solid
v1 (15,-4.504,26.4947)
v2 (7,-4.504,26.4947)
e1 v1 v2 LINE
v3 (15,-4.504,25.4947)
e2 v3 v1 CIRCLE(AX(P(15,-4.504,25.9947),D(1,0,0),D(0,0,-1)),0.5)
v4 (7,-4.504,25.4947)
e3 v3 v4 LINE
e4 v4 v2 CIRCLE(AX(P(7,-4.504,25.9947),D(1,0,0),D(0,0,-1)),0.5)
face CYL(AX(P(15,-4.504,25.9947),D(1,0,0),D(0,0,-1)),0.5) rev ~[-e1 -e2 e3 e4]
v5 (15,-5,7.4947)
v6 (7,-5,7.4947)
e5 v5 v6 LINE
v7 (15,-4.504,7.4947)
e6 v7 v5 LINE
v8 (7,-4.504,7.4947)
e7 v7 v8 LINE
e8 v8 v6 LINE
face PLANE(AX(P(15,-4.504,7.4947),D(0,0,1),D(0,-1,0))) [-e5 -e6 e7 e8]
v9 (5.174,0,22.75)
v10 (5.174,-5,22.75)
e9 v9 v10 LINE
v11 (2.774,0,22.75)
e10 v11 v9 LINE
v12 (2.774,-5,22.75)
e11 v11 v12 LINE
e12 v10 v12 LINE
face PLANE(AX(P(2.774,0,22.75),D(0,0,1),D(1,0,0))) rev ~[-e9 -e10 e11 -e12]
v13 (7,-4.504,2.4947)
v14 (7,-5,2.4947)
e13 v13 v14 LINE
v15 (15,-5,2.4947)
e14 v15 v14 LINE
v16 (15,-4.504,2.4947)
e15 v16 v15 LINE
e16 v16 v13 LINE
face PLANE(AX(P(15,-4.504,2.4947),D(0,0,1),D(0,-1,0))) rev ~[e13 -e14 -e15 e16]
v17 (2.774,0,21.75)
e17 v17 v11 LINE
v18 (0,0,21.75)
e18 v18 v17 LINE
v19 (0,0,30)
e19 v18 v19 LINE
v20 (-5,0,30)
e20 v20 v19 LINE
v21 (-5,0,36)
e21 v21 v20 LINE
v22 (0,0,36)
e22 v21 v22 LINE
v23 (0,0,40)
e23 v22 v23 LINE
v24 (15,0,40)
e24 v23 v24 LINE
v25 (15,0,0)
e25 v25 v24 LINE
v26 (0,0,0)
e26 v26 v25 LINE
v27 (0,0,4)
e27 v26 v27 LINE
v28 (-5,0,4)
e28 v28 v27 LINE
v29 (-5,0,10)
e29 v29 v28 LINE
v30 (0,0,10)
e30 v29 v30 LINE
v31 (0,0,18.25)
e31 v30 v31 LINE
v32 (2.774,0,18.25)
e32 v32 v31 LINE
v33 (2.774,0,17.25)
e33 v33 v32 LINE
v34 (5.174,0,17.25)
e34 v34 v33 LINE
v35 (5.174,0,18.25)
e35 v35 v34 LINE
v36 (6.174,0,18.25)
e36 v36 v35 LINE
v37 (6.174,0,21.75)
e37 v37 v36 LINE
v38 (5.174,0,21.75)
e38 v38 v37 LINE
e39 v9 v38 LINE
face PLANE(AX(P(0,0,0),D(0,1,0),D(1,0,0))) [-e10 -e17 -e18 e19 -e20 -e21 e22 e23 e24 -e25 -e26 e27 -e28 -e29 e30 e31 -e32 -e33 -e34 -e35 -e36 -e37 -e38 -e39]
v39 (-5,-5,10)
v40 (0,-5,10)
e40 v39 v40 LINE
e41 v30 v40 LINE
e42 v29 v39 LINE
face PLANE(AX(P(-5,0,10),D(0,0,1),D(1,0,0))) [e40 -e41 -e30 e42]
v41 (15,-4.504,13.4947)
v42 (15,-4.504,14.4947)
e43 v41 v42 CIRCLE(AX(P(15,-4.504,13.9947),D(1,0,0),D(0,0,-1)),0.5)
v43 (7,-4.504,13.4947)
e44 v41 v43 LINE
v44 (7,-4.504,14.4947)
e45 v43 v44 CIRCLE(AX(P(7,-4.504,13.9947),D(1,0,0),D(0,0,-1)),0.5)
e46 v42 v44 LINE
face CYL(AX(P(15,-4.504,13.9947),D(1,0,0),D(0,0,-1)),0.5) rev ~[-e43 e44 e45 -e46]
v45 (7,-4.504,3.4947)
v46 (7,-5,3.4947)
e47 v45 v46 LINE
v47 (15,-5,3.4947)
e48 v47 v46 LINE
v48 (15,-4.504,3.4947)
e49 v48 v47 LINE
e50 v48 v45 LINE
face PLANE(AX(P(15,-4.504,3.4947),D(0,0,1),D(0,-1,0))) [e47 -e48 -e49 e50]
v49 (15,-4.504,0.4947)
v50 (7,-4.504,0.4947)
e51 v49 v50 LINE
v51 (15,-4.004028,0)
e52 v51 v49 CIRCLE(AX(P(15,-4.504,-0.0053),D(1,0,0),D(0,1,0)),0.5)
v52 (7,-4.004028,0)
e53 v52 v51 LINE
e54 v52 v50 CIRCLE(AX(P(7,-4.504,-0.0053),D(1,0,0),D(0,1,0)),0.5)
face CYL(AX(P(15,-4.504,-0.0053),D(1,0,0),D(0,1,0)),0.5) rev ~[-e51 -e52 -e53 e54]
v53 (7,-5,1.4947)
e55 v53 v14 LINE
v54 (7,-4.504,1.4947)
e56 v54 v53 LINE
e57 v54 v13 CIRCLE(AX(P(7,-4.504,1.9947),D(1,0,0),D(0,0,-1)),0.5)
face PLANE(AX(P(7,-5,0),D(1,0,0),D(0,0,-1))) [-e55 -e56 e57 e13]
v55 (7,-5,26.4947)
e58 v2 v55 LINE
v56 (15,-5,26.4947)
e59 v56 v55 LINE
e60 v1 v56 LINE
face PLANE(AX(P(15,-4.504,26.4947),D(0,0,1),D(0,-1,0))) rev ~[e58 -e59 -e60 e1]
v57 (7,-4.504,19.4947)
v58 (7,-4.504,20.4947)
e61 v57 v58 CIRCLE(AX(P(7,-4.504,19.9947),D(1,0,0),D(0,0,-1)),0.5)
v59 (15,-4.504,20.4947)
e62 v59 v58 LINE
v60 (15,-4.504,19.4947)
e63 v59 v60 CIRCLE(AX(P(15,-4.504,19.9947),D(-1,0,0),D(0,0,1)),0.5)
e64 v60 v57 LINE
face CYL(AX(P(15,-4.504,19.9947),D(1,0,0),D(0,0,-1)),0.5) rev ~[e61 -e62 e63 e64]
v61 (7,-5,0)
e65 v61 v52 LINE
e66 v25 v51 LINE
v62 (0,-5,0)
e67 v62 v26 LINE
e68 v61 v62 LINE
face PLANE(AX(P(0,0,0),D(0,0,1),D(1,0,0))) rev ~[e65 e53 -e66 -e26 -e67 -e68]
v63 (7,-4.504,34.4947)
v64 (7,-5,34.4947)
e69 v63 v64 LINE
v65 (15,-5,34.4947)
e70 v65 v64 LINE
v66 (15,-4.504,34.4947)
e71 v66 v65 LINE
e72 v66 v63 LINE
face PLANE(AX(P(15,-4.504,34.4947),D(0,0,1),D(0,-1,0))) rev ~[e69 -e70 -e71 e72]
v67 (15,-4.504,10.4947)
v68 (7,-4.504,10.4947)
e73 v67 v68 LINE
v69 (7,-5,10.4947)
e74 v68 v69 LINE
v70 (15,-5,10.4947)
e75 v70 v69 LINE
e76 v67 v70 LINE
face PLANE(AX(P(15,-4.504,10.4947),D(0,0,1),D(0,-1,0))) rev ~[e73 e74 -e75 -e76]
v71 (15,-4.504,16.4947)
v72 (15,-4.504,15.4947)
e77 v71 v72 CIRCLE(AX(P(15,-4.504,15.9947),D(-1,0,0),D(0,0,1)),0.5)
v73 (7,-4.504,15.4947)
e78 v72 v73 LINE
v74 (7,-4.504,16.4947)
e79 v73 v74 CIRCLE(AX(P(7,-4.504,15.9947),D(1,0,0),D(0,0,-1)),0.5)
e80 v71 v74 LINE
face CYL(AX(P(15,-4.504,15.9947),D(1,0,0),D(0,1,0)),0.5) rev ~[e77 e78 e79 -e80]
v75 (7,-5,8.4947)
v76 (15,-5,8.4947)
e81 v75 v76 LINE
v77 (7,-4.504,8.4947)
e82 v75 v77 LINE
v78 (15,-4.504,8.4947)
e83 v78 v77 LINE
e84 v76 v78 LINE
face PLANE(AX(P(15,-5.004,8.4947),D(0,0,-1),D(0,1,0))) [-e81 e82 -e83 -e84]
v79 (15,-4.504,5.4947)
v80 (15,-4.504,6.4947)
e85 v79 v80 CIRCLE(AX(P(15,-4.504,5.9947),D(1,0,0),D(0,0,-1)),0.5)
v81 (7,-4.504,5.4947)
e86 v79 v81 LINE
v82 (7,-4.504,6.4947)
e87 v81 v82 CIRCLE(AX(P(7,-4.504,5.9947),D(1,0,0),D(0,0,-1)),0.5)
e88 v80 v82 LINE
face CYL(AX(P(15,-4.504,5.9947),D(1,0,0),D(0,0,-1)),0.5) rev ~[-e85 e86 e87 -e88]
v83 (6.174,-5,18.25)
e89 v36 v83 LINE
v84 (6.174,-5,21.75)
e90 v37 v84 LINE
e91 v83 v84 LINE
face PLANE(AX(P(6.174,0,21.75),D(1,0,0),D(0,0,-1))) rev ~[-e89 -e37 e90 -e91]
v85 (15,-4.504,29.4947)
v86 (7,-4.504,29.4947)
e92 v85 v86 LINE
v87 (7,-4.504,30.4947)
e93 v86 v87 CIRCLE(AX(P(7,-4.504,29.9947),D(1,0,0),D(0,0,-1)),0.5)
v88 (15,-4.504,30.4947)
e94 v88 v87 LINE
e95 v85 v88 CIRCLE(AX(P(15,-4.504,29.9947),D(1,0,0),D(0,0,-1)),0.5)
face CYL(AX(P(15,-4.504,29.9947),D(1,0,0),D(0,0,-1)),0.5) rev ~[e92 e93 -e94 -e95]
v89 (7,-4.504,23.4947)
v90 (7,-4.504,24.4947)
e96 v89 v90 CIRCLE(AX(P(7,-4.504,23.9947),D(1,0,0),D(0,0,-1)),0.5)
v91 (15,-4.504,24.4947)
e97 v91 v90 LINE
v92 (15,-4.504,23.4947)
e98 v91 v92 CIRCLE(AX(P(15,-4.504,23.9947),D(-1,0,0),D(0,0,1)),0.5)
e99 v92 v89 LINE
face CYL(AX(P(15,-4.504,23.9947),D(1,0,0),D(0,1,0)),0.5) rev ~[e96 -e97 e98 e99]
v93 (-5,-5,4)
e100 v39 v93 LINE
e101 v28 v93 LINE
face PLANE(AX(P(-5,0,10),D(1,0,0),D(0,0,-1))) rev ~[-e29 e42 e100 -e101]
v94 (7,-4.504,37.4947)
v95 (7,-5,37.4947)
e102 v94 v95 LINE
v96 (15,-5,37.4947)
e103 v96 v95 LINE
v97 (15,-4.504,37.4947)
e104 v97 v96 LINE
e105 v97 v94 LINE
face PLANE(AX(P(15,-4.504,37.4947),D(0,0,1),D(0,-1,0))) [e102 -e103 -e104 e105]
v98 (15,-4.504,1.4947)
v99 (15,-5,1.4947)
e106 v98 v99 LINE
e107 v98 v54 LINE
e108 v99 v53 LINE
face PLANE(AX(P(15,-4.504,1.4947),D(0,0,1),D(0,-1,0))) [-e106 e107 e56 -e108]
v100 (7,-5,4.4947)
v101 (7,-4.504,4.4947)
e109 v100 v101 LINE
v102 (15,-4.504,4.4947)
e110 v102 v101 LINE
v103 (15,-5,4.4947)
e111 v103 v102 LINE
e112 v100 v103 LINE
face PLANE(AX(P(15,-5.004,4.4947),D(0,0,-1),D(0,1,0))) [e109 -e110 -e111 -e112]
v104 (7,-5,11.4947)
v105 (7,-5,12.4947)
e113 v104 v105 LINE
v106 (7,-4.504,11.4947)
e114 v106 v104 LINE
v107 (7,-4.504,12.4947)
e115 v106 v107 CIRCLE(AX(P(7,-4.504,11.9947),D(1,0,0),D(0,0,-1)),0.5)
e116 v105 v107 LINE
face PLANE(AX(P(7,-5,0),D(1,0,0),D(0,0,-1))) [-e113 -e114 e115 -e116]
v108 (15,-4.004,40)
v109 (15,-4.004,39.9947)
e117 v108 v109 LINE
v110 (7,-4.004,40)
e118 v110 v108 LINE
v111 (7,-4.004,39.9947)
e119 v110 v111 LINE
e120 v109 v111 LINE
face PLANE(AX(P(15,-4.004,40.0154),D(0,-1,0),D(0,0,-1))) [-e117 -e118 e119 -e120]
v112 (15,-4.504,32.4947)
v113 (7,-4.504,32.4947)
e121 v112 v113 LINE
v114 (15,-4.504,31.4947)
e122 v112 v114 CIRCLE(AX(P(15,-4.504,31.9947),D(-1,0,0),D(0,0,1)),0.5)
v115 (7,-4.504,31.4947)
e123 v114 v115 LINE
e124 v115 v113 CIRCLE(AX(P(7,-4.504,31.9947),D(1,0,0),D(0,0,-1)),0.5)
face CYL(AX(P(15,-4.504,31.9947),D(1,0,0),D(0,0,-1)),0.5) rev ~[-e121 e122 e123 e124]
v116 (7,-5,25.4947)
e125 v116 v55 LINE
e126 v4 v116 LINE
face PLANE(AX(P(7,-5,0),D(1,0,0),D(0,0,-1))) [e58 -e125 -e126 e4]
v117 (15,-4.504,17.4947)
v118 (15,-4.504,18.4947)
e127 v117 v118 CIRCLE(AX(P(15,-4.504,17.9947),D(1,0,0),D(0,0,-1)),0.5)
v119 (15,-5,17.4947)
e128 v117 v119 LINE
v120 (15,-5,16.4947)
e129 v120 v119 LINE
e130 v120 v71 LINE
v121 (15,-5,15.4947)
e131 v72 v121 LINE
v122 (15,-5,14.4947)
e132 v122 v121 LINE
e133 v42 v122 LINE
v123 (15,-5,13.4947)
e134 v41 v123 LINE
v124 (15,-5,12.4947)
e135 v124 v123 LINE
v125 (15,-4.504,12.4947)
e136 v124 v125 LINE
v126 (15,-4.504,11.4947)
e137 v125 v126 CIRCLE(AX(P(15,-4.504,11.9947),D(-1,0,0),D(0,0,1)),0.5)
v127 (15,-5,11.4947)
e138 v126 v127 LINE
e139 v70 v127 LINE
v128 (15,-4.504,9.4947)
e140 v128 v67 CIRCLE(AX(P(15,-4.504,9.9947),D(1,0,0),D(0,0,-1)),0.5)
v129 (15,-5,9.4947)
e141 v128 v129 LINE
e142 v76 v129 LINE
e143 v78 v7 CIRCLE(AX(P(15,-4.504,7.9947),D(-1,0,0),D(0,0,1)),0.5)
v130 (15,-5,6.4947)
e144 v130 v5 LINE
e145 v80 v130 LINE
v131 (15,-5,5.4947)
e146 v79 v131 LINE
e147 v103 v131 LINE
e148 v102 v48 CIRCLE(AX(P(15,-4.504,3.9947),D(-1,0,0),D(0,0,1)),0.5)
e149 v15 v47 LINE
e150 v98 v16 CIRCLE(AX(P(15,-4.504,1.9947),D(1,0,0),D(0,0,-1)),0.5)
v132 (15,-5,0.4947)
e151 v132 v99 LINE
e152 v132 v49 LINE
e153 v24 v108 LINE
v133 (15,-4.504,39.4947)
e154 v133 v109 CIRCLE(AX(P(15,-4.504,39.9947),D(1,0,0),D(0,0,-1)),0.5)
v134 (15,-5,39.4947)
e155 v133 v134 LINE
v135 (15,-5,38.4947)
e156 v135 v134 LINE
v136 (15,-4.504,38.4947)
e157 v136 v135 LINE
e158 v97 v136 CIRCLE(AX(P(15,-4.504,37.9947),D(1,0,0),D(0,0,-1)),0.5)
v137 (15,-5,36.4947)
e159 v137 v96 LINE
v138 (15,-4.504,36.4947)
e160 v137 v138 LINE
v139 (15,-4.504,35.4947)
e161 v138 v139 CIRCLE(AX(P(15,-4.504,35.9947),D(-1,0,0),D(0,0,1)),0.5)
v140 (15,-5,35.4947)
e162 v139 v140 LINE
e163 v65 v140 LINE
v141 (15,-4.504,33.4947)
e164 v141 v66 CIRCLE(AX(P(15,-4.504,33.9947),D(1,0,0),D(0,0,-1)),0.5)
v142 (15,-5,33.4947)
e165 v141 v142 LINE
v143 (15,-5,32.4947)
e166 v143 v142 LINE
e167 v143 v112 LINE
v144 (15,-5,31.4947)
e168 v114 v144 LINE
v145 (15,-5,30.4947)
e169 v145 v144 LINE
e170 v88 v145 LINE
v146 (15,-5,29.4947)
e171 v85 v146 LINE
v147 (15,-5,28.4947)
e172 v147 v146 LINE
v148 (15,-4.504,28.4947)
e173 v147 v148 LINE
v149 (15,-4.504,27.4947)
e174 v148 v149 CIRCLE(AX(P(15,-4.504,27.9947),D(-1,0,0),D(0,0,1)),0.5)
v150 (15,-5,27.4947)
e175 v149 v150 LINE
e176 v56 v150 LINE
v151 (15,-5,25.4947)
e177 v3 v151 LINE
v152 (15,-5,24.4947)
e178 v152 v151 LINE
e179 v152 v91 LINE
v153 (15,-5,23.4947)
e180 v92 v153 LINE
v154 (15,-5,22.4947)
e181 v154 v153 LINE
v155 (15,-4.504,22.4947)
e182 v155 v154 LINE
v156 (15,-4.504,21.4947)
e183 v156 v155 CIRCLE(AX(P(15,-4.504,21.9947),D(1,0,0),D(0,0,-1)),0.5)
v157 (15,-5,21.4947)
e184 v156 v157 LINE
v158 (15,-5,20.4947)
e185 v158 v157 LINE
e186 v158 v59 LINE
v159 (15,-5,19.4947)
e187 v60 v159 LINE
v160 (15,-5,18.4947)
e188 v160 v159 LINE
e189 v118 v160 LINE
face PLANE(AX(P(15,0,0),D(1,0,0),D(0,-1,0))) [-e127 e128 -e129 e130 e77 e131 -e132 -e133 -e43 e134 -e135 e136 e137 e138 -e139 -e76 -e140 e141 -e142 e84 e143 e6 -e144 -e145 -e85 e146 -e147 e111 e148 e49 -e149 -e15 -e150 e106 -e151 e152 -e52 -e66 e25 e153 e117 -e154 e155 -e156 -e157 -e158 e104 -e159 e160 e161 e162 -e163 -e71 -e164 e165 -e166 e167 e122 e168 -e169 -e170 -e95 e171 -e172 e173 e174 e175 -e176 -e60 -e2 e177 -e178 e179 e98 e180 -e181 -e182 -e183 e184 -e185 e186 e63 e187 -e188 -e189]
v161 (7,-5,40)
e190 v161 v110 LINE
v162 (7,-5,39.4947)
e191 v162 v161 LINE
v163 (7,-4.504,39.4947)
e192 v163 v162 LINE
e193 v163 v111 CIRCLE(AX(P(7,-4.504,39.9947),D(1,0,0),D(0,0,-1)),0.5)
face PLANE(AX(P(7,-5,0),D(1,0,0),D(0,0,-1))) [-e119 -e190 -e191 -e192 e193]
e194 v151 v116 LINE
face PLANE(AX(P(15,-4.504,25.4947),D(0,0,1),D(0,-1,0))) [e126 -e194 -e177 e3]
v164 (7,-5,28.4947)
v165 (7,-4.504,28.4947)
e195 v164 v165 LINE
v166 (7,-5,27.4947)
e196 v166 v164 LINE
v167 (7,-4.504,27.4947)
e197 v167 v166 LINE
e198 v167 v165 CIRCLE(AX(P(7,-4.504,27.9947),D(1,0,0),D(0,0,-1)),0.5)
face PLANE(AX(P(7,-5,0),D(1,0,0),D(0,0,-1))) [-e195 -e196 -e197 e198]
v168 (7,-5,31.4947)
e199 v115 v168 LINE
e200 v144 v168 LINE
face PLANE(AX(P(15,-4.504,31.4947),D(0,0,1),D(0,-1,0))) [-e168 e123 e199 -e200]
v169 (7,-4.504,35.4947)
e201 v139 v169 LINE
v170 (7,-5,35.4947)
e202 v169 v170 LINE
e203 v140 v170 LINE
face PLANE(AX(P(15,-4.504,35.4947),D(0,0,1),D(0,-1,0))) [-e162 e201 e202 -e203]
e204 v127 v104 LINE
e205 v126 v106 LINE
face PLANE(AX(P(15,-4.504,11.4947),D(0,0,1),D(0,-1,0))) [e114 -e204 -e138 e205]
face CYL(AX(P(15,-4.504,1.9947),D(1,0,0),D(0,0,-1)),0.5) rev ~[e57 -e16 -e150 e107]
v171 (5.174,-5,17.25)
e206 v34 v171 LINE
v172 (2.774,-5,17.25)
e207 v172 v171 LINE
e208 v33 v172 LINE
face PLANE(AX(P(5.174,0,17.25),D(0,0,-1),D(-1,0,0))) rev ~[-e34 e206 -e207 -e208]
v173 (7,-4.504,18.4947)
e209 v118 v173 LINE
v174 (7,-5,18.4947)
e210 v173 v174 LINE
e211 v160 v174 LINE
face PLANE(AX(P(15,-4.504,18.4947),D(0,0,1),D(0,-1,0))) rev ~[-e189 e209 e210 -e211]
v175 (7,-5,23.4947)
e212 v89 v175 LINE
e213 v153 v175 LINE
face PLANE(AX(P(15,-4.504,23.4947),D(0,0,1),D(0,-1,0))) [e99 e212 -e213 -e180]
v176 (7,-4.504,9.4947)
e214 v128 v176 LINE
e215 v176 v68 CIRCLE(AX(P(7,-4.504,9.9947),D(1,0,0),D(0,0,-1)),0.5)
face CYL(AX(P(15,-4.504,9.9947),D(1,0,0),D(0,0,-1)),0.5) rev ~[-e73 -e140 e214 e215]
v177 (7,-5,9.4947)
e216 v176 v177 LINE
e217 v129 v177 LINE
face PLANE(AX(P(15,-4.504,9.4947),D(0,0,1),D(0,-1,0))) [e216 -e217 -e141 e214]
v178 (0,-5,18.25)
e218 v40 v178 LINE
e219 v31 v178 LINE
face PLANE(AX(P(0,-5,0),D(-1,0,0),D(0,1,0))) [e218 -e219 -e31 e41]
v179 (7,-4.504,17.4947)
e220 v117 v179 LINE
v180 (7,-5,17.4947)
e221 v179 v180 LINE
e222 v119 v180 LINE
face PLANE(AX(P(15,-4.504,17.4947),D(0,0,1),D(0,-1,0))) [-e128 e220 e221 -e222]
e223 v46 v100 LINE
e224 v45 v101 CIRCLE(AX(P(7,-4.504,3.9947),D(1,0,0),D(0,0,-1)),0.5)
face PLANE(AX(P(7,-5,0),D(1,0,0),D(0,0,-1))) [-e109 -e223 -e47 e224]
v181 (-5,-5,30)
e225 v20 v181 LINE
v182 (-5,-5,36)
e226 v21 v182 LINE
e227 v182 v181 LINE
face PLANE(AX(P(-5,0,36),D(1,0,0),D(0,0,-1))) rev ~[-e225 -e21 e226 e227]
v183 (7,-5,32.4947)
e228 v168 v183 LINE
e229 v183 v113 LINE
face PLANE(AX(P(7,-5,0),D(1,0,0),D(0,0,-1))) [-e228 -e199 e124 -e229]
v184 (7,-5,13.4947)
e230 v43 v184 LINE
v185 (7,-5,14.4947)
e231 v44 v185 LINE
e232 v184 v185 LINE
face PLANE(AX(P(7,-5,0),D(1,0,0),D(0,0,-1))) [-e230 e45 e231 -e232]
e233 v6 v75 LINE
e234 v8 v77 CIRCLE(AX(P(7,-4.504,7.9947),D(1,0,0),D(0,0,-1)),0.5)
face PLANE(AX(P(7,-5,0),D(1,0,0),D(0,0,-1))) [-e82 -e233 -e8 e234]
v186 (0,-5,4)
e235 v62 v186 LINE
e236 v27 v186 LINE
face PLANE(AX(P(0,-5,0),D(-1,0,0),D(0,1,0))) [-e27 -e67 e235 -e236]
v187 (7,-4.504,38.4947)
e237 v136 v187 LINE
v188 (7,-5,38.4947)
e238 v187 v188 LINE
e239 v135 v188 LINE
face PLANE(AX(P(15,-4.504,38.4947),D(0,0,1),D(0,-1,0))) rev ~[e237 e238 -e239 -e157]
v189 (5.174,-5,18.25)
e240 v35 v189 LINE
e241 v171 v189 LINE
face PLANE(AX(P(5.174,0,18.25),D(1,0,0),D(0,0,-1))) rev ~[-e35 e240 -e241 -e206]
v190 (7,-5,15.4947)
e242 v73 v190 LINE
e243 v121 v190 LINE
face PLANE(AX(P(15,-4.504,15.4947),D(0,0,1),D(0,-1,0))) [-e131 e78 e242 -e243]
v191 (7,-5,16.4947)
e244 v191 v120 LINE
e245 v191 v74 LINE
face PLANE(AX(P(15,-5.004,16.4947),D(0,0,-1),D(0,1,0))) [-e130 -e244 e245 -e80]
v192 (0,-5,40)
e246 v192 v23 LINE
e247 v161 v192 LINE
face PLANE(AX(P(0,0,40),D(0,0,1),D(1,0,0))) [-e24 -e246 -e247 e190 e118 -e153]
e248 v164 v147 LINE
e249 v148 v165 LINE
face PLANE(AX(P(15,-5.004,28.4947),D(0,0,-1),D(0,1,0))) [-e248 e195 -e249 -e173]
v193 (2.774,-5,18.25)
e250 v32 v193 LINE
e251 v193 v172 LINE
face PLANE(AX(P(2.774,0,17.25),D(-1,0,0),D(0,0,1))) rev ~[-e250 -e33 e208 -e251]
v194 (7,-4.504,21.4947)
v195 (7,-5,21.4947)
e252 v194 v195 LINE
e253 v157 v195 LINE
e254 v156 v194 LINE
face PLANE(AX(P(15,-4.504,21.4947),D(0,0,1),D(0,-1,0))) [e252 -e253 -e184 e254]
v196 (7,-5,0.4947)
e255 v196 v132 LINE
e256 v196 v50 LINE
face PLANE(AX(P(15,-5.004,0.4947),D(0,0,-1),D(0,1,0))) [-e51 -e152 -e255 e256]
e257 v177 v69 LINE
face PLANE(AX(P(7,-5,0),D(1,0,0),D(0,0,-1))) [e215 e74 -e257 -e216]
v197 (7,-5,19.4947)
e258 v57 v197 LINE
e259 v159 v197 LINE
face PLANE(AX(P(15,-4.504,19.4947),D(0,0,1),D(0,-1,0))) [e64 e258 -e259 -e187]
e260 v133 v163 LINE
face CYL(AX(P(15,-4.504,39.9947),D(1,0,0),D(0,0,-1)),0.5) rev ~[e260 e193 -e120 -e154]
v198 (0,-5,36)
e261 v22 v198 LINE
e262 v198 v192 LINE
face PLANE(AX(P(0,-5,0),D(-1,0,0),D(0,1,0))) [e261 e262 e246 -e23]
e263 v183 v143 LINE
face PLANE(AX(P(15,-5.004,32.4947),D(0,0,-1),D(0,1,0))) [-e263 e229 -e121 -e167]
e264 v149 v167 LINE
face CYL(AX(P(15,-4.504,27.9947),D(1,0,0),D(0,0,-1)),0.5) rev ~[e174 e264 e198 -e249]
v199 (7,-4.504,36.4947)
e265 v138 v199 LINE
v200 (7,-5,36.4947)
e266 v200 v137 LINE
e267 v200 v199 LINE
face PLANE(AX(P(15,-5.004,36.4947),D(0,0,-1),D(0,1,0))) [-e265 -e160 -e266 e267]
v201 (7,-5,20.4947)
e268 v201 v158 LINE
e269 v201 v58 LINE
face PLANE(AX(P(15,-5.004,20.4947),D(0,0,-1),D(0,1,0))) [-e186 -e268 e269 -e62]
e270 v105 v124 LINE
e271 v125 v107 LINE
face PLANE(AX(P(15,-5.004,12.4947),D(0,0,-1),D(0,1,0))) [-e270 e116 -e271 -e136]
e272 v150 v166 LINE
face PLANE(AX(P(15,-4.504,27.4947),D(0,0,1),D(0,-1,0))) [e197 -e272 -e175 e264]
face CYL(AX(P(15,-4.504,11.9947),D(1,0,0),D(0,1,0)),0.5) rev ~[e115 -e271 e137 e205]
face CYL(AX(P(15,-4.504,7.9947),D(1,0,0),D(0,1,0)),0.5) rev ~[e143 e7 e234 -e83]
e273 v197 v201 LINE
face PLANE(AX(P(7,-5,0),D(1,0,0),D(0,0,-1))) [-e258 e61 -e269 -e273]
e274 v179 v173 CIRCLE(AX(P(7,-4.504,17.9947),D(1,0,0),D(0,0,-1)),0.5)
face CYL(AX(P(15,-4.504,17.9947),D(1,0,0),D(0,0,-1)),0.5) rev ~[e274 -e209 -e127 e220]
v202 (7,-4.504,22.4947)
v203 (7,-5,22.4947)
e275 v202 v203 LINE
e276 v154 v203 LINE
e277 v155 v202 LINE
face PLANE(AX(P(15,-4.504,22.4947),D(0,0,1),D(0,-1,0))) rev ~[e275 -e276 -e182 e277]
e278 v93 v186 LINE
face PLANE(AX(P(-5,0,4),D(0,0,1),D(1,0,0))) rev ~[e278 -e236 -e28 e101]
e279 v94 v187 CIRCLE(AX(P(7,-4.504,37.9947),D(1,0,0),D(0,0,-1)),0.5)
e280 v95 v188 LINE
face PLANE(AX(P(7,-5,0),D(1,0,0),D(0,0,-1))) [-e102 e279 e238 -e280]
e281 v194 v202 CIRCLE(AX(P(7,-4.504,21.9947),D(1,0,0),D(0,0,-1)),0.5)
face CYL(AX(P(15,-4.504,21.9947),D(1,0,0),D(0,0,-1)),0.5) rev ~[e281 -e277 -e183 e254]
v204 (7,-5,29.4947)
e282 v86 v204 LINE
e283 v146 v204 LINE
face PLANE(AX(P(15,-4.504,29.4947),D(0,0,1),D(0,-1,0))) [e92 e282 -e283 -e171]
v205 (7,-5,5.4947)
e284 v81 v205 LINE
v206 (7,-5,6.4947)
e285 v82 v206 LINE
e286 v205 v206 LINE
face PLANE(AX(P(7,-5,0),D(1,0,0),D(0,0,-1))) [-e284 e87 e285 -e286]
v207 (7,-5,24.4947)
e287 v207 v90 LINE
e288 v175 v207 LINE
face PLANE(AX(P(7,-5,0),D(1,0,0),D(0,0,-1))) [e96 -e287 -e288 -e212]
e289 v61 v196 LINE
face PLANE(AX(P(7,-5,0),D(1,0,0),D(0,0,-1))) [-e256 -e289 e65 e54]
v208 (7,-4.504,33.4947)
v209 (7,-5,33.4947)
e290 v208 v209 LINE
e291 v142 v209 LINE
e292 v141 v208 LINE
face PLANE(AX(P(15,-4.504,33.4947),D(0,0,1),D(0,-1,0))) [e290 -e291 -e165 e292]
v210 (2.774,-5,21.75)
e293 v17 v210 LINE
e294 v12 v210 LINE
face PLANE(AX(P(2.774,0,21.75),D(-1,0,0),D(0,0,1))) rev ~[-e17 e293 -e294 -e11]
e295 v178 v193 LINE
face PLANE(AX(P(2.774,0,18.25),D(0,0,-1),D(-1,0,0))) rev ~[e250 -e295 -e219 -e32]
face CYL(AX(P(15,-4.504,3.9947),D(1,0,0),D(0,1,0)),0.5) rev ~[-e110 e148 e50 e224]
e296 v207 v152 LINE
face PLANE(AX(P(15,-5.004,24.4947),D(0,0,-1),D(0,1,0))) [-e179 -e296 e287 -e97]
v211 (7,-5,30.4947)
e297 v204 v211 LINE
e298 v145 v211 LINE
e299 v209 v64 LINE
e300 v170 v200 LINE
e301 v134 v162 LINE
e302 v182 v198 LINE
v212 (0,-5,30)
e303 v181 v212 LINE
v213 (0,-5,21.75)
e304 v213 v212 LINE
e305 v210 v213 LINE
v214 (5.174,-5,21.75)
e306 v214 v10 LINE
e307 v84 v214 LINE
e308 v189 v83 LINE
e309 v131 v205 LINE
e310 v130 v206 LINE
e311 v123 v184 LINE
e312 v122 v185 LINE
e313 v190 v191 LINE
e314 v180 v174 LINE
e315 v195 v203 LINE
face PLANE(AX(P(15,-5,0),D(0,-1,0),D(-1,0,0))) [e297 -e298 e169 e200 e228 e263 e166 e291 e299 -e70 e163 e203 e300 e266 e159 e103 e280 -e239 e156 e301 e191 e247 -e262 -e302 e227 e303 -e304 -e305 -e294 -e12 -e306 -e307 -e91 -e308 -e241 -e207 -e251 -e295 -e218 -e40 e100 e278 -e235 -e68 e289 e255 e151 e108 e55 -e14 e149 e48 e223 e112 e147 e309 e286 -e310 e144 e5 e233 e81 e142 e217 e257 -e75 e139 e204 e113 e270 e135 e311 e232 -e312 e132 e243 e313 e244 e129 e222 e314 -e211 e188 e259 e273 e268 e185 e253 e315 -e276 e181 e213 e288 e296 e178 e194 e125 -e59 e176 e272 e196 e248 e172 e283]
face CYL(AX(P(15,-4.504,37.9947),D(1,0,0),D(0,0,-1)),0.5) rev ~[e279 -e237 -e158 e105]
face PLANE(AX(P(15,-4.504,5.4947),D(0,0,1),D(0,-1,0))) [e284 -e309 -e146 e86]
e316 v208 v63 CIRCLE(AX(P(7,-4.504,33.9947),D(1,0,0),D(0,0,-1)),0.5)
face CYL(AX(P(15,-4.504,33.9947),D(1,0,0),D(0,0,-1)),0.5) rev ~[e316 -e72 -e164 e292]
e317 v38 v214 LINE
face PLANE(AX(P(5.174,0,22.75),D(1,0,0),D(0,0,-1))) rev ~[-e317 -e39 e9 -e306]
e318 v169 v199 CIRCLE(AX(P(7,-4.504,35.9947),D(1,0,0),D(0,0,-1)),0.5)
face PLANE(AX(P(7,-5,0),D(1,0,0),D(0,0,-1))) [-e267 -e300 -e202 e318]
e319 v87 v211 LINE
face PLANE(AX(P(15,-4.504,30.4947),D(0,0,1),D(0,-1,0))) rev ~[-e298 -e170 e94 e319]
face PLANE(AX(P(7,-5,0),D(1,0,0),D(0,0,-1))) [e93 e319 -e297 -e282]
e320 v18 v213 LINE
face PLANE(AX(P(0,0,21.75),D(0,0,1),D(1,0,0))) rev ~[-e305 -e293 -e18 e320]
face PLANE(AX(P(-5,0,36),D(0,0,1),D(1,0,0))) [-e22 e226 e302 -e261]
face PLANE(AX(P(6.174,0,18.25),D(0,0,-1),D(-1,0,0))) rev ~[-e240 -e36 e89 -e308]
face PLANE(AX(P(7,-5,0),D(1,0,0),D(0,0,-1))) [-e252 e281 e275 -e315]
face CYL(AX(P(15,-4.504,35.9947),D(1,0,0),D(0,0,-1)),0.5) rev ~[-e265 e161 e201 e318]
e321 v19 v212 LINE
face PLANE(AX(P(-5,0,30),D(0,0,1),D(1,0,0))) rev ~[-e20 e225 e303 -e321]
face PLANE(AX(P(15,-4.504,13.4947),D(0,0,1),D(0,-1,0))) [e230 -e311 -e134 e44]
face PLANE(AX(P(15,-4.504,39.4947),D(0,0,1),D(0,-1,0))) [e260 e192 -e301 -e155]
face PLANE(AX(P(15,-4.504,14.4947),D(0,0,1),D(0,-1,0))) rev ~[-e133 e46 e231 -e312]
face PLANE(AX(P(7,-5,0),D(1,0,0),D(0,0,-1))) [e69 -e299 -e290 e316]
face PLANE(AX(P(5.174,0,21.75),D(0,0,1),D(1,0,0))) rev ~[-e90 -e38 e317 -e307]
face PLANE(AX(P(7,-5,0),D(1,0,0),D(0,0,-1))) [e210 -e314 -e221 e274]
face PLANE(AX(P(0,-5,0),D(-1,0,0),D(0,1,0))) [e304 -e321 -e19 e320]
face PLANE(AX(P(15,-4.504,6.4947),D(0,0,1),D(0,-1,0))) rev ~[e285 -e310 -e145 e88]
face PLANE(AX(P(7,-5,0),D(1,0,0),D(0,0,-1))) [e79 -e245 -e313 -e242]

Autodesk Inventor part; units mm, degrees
ref_plane "YZ Plane" through (0, 0, 0) normal (1, 0, 0) x (0, 1, 0)
ref_plane "XZ Plane" through (0, 0, 0) normal (0, 1, 0) x (-1, 0, 0)
ref_plane "XY Plane" through (0, 0, 0) normal (0, 0, 1) x (1, 0, 0)
sketch "Boceto1" plane through (0, 0, 0) normal (0, 0, 1) x (1, 0, 0)
  line L0 (0, 0) -> (15, 0)
  line L1 (15, 0) -> (15, -5)
  line L2 (15, -5) -> (0, -5)
  line L3 (0, -5) -> (0, 0)
extrude "Extrusión1" add sketch "Boceto1" along normal blind 40
sketch "Boceto2" plane through (0, 0, 0) normal (0, 1, 0) x (1, 0, 0)
  line L0 (0, -40) -> (15, -40) projected
  line L1 (6.174, -21.75) -> (6.174, -18.25)
  line L2 (2.774, -22.75) -> (5.174, -22.75)
  line L3 (5.174, -17.25) -> (2.774, -17.25)
  line L4 (6.174, -18.25) -> (5.174, -18.25)
  line L5 (2.774, -18.25) -> (0, -18.25)
  line L6 (2.774, -17.25) -> (2.774, -18.25)
  line L7 (2.774, -21.75) -> (2.774, -22.75)
  line L8 (5.174, -22.75) -> (5.174, -21.75)
  line L9 (5.174, -18.25) -> (5.174, -17.25)
  line L10 (0, -21.75) -> (2.774, -21.75)
  line L11 (5.174, -21.75) -> (6.174, -21.75)
  line L12 (0, -10) -> (-5, -10)
  line L13 (-5, -10) -> (-5, -4)
  line L14 (-5, -4) -> (0, -4)
  line L15 (0, -4) -> (0, -10)
  line L16 (0, -36) -> (-5, -36)
  line L17 (-5, -36) -> (-5, -30)
  line L18 (-5, -30) -> (0, -30)
  line L19 (0, -30) -> (0, -36)
  line L20 (0, 0) -> (0, -40) projected
  dimension "d7" = 3.5
  dimension "d8" = 2.4
  dimension "d12" = 18.25
  dimension "d14" = 6
  dimension "d15" = 5
  dimension "d16" = 5
  dimension "d17" = 6
  dimension "d18" = 4
  dimension "d19" = 20
extrude "Extrusión3" cut sketch "Boceto2" against normal through all
sketch "Boceto3" plane through (0, 0, 0) normal (0, 1, 0) x (1, 0, 0)
  line L0 (2.774, -21.75) -> (0, -21.75) projected
  line L1 (0, -18.25) -> (2.774, -18.25) projected
  line L2 (-5, -10) -> (-5, -4)
  line L3 (-5, -36) -> (-5, -30)
  line L4 (-5, -36) -> (0, -36)
  line L5 (-5, -30) -> (0, -30)
  line L6 (-5, -4) -> (0, -4)
  line L7 (-5, -10) -> (0, -10)
  line L8 (0, -4) -> (0, -10)
  line L9 (0, -30) -> (0, -36)
extrude "Extrusión4" add sketch "Boceto3" against normal blind 5
sketch "Boceto4" plane through (15, -5, 0) normal (1, 0, 0) x (0, 0, -1)
  arc A0 (-37.4947, 0.496) -> (-38.4947, 0.496) centre (-37.9947, 0.496) ccw
  line L0 (-38.4947, 0.496) -> (-38.4947, -0.004)
  line L1 (-37.4947, 0.496) -> (-37.4947, -0.004)
  line L2 (-39.4947, 0.496) -> (-39.4947, -0.004)
  arc A1 (-39.4947, 0.496) -> (-39.9947, 0.996) centre (-39.9947, 0.496) ccw
  arc A2 (-35.9947, 0.996) -> (-36.4947, 0.496) centre (-35.9947, 0.496) ccw
  line L3 (-36.4947, -0.004) -> (-36.4947, 0.496)
  arc A3 (-33.4947, 0.496) -> (-34.4947, 0.496) centre (-33.9947, 0.496) ccw
  line L4 (-34.4947, 0.496) -> (-34.4947, -0.004)
  line L5 (-33.4947, 0.496) -> (-33.4947, -0.004)
  line L6 (-35.4947, 0.496) -> (-35.4947, -0.004)
  arc A4 (-35.4947, 0.496) -> (-35.9947, 0.996) centre (-35.9947, 0.496) ccw
  arc A5 (-31.9947, 0.996) -> (-32.4947, 0.496) centre (-31.9947, 0.496) ccw
  line L7 (-32.4947, -0.004) -> (-32.4947, 0.496)
  arc A6 (-29.4947, 0.496) -> (-30.4947, 0.496) centre (-29.9947, 0.496) ccw
  line L8 (-30.4947, 0.496) -> (-30.4947, -0.004)
  line L9 (-29.4947, 0.496) -> (-29.4947, -0.004)
  line L10 (-31.4947, 0.496) -> (-31.4947, -0.004)
  arc A7 (-31.4947, 0.496) -> (-31.9947, 0.996) centre (-31.9947, 0.496) ccw
  arc A8 (-27.9947, 0.996) -> (-28.4947, 0.496) centre (-27.9947, 0.496) ccw
  line L11 (-28.4947, -0.004) -> (-28.4947, 0.496)
  line L12 (-26.4947, 0.496) -> (-26.4947, -0.004)
  line L13 (-25.4947, 0.496) -> (-25.4947, -0.004)
  line L14 (-27.4947, 0.496) -> (-27.4947, -0.004)
  line L15 (-24.4947, -0.004) -> (-24.4947, 0.496)
  arc A9 (-23.9947, 0.996) -> (-24.4947, 0.496) centre (-23.9947, 0.496) ccw
  arc A10 (-25.4947, 0.496) -> (-26.4947, 0.496) centre (-25.9947, 0.496) ccw
  arc A11 (-27.4947, 0.496) -> (-27.9947, 0.996) centre (-27.9947, 0.496) ccw
  arc A12 (-21.4947, 0.496) -> (-22.4947, 0.496) centre (-21.9947, 0.496) ccw
  line L16 (-22.4947, 0.496) -> (-22.4947, -0.004)
  line L17 (-21.4947, 0.496) -> (-21.4947, -0.004)
  line L18 (-23.4947, 0.496) -> (-23.4947, -0.004)
  arc A13 (-23.4947, 0.496) -> (-23.9947, 0.996) centre (-23.9947, 0.496) ccw
  arc A14 (-19.9947, 0.996) -> (-20.4947, 0.496) centre (-19.9947, 0.496) ccw
  line L19 (-20.4947, -0.004) -> (-20.4947, 0.496)
  line L20 (-18.4947, 0.496) -> (-18.4947, -0.004)
  line L21 (-17.4947, 0.496) -> (-17.4947, -0.004)
  line L22 (-19.4947, 0.496) -> (-19.4947, -0.004)
  line L23 (-16.4947, -0.004) -> (-16.4947, 0.496)
  arc A15 (-15.9947, 0.996) -> (-16.4947, 0.496) centre (-15.9947, 0.496) ccw
  arc A16 (-17.4947, 0.496) -> (-18.4947, 0.496) centre (-17.9947, 0.496) ccw
  arc A17 (-19.4947, 0.496) -> (-19.9947, 0.996) centre (-19.9947, 0.496) ccw
  arc A18 (-15.4947, 0.496) -> (-15.9947, 0.996) centre (-15.9947, 0.496) ccw
  line L24 (-14.4947, 0.496) -> (-14.4947, -0.004)
  arc A19 (-13.4947, 0.496) -> (-14.4947, 0.496) centre (-13.9947, 0.496) ccw
  line L25 (-13.4947, 0.496) -> (-13.4947, -0.004)
  line L26 (-12.4947, -0.004) -> (-12.4947, 0.496)
  arc A20 (-11.9947, 0.996) -> (-12.4947, 0.496) centre (-11.9947, 0.496) ccw
  arc A21 (-11.4947, 0.496) -> (-11.9947, 0.996) centre (-11.9947, 0.496) ccw
  line L27 (-11.4947, 0.496) -> (-11.4947, -0.004)
  line L28 (-15.4947, 0.496) -> (-15.4947, -0.004)
  line L29 (-10.4947, 0.496) -> (-10.4947, -0.004)
  arc A22 (-9.4947, 0.496) -> (-10.4947, 0.496) centre (-9.9947, 0.496) ccw
  line L30 (-9.4947, 0.496) -> (-9.4947, -0.004)
  line L31 (-8.4947, -0.004) -> (-8.4947, 0.496)
  arc A23 (-7.9947, 0.996) -> (-8.4947, 0.496) centre (-7.9947, 0.496) ccw
  arc A24 (0.0053, 0.996) -> (-0.4947, 0.496) centre (0.0053, 0.496) ccw
  line L32 (-0.4947, -0.004) -> (-0.4947, 0.496)
  arc A25 (-5.4947, 0.496) -> (-6.4947, 0.496) centre (-5.9947, 0.496) ccw
  line L33 (-6.4947, 0.496) -> (-6.4947, -0.004)
  line L34 (-7.4947, 0.496) -> (-7.4947, -0.004)
  arc A26 (-7.4947, 0.496) -> (-7.9947, 0.996) centre (-7.9947, 0.496) ccw
  line L35 (-5.4947, 0.496) -> (-5.4947, -0.004)
  line L36 (-4.4947, -0.004) -> (-4.4947, 0.496)
  arc A27 (-3.9947, 0.996) -> (-4.4947, 0.496) centre (-3.9947, 0.496) ccw
  arc A28 (-3.4947, 0.496) -> (-3.9947, 0.996) centre (-3.9947, 0.496) ccw
  line L37 (-3.4947, 0.496) -> (-3.4947, -0.004)
  line L38 (-2.4947, 0.496) -> (-2.4947, -0.004)
  arc A29 (-1.4947, 0.496) -> (-2.4947, 0.496) centre (-1.9947, 0.496) ccw
  line L39 (-1.4947, 0.496) -> (-1.4947, -0.004)
  line L40 (-0.4947, -0.004) -> (0.0053, -0.004)
  line L41 (-2.4947, -0.004) -> (-1.4947, -0.004)
  line L42 (-4.4947, -0.004) -> (-3.4947, -0.004)
  line L43 (-6.4947, -0.004) -> (-5.4947, -0.004)
  line L44 (-8.4947, -0.004) -> (-7.4947, -0.004)
  line L45 (-10.4947, -0.004) -> (-9.4947, -0.004)
  line L46 (-12.4947, -0.004) -> (-11.4947, -0.004)
  line L47 (-14.4947, -0.004) -> (-13.4947, -0.004)
  line L48 (-16.4947, -0.004) -> (-15.4947, -0.004)
  line L49 (-18.4947, -0.004) -> (-17.4947, -0.004)
  line L50 (-24.4947, -0.004) -> (-23.4947, -0.004)
  line L51 (-22.4947, -0.004) -> (-21.4947, -0.004)
  line L52 (-20.4947, -0.004) -> (-19.4947, -0.004)
  line L53 (-26.4947, -0.004) -> (-25.4947, -0.004)
  line L54 (-28.4947, -0.004) -> (-27.4947, -0.004)
  line L55 (-30.4947, -0.004) -> (-29.4947, -0.004)
  line L56 (-32.4947, -0.004) -> (-31.4947, -0.004)
  line L57 (-34.4947, -0.004) -> (-33.4947, -0.004)
  line L58 (-36.4947, -0.004) -> (-35.4947, -0.004)
  line L59 (-39.9947, -0.004) -> (-39.4947, -0.004)
  line L60 (-38.4947, -0.004) -> (-37.4947, -0.004)
  line L61 (0.0053, -0.004) -> (0.0053, 0.996)
  line L62 (-39.9947, -0.004) -> (-40.0154, -0.004)
  line L63 (-40.0154, -0.004) -> (-40.0154, 0.996)
  line L64 (-40.0154, 0.996) -> (-39.9947, 0.996)
  point P0 (-32.9947, 0.496)
  point P1 (-30.9947, 0.496)
  point P2 (-28.9947, 0.496)
  point P3 (-24.9947, 0.496)
  point P4 (-26.9947, 0.496)
  point P5 (-22.9947, 0.496)
  point P6 (-20.9947, 0.496)
  point P7 (-16.9947, 0.496)
  point P8 (-18.9947, 0.496)
  point P9 (-10.9947, 0.496)
  point P10 (-8.9947, 0.496)
  point P11 (-12.9947, 0.496)
  point P12 (-14.9947, 0.496)
  point P13 (-2.9947, 0.496)
  point P14 (-0.9947, 0.496)
  point P15 (-4.9947, 0.496)
  point P16 (-6.9947, 0.496)
  dimension "d49" = 4
  dimension "d50" = 8
  dimension "d51" = 4
extrude "Extrusión5" cut sketch "Boceto4" against normal blind 8
properties part number "brida correas eje y"
